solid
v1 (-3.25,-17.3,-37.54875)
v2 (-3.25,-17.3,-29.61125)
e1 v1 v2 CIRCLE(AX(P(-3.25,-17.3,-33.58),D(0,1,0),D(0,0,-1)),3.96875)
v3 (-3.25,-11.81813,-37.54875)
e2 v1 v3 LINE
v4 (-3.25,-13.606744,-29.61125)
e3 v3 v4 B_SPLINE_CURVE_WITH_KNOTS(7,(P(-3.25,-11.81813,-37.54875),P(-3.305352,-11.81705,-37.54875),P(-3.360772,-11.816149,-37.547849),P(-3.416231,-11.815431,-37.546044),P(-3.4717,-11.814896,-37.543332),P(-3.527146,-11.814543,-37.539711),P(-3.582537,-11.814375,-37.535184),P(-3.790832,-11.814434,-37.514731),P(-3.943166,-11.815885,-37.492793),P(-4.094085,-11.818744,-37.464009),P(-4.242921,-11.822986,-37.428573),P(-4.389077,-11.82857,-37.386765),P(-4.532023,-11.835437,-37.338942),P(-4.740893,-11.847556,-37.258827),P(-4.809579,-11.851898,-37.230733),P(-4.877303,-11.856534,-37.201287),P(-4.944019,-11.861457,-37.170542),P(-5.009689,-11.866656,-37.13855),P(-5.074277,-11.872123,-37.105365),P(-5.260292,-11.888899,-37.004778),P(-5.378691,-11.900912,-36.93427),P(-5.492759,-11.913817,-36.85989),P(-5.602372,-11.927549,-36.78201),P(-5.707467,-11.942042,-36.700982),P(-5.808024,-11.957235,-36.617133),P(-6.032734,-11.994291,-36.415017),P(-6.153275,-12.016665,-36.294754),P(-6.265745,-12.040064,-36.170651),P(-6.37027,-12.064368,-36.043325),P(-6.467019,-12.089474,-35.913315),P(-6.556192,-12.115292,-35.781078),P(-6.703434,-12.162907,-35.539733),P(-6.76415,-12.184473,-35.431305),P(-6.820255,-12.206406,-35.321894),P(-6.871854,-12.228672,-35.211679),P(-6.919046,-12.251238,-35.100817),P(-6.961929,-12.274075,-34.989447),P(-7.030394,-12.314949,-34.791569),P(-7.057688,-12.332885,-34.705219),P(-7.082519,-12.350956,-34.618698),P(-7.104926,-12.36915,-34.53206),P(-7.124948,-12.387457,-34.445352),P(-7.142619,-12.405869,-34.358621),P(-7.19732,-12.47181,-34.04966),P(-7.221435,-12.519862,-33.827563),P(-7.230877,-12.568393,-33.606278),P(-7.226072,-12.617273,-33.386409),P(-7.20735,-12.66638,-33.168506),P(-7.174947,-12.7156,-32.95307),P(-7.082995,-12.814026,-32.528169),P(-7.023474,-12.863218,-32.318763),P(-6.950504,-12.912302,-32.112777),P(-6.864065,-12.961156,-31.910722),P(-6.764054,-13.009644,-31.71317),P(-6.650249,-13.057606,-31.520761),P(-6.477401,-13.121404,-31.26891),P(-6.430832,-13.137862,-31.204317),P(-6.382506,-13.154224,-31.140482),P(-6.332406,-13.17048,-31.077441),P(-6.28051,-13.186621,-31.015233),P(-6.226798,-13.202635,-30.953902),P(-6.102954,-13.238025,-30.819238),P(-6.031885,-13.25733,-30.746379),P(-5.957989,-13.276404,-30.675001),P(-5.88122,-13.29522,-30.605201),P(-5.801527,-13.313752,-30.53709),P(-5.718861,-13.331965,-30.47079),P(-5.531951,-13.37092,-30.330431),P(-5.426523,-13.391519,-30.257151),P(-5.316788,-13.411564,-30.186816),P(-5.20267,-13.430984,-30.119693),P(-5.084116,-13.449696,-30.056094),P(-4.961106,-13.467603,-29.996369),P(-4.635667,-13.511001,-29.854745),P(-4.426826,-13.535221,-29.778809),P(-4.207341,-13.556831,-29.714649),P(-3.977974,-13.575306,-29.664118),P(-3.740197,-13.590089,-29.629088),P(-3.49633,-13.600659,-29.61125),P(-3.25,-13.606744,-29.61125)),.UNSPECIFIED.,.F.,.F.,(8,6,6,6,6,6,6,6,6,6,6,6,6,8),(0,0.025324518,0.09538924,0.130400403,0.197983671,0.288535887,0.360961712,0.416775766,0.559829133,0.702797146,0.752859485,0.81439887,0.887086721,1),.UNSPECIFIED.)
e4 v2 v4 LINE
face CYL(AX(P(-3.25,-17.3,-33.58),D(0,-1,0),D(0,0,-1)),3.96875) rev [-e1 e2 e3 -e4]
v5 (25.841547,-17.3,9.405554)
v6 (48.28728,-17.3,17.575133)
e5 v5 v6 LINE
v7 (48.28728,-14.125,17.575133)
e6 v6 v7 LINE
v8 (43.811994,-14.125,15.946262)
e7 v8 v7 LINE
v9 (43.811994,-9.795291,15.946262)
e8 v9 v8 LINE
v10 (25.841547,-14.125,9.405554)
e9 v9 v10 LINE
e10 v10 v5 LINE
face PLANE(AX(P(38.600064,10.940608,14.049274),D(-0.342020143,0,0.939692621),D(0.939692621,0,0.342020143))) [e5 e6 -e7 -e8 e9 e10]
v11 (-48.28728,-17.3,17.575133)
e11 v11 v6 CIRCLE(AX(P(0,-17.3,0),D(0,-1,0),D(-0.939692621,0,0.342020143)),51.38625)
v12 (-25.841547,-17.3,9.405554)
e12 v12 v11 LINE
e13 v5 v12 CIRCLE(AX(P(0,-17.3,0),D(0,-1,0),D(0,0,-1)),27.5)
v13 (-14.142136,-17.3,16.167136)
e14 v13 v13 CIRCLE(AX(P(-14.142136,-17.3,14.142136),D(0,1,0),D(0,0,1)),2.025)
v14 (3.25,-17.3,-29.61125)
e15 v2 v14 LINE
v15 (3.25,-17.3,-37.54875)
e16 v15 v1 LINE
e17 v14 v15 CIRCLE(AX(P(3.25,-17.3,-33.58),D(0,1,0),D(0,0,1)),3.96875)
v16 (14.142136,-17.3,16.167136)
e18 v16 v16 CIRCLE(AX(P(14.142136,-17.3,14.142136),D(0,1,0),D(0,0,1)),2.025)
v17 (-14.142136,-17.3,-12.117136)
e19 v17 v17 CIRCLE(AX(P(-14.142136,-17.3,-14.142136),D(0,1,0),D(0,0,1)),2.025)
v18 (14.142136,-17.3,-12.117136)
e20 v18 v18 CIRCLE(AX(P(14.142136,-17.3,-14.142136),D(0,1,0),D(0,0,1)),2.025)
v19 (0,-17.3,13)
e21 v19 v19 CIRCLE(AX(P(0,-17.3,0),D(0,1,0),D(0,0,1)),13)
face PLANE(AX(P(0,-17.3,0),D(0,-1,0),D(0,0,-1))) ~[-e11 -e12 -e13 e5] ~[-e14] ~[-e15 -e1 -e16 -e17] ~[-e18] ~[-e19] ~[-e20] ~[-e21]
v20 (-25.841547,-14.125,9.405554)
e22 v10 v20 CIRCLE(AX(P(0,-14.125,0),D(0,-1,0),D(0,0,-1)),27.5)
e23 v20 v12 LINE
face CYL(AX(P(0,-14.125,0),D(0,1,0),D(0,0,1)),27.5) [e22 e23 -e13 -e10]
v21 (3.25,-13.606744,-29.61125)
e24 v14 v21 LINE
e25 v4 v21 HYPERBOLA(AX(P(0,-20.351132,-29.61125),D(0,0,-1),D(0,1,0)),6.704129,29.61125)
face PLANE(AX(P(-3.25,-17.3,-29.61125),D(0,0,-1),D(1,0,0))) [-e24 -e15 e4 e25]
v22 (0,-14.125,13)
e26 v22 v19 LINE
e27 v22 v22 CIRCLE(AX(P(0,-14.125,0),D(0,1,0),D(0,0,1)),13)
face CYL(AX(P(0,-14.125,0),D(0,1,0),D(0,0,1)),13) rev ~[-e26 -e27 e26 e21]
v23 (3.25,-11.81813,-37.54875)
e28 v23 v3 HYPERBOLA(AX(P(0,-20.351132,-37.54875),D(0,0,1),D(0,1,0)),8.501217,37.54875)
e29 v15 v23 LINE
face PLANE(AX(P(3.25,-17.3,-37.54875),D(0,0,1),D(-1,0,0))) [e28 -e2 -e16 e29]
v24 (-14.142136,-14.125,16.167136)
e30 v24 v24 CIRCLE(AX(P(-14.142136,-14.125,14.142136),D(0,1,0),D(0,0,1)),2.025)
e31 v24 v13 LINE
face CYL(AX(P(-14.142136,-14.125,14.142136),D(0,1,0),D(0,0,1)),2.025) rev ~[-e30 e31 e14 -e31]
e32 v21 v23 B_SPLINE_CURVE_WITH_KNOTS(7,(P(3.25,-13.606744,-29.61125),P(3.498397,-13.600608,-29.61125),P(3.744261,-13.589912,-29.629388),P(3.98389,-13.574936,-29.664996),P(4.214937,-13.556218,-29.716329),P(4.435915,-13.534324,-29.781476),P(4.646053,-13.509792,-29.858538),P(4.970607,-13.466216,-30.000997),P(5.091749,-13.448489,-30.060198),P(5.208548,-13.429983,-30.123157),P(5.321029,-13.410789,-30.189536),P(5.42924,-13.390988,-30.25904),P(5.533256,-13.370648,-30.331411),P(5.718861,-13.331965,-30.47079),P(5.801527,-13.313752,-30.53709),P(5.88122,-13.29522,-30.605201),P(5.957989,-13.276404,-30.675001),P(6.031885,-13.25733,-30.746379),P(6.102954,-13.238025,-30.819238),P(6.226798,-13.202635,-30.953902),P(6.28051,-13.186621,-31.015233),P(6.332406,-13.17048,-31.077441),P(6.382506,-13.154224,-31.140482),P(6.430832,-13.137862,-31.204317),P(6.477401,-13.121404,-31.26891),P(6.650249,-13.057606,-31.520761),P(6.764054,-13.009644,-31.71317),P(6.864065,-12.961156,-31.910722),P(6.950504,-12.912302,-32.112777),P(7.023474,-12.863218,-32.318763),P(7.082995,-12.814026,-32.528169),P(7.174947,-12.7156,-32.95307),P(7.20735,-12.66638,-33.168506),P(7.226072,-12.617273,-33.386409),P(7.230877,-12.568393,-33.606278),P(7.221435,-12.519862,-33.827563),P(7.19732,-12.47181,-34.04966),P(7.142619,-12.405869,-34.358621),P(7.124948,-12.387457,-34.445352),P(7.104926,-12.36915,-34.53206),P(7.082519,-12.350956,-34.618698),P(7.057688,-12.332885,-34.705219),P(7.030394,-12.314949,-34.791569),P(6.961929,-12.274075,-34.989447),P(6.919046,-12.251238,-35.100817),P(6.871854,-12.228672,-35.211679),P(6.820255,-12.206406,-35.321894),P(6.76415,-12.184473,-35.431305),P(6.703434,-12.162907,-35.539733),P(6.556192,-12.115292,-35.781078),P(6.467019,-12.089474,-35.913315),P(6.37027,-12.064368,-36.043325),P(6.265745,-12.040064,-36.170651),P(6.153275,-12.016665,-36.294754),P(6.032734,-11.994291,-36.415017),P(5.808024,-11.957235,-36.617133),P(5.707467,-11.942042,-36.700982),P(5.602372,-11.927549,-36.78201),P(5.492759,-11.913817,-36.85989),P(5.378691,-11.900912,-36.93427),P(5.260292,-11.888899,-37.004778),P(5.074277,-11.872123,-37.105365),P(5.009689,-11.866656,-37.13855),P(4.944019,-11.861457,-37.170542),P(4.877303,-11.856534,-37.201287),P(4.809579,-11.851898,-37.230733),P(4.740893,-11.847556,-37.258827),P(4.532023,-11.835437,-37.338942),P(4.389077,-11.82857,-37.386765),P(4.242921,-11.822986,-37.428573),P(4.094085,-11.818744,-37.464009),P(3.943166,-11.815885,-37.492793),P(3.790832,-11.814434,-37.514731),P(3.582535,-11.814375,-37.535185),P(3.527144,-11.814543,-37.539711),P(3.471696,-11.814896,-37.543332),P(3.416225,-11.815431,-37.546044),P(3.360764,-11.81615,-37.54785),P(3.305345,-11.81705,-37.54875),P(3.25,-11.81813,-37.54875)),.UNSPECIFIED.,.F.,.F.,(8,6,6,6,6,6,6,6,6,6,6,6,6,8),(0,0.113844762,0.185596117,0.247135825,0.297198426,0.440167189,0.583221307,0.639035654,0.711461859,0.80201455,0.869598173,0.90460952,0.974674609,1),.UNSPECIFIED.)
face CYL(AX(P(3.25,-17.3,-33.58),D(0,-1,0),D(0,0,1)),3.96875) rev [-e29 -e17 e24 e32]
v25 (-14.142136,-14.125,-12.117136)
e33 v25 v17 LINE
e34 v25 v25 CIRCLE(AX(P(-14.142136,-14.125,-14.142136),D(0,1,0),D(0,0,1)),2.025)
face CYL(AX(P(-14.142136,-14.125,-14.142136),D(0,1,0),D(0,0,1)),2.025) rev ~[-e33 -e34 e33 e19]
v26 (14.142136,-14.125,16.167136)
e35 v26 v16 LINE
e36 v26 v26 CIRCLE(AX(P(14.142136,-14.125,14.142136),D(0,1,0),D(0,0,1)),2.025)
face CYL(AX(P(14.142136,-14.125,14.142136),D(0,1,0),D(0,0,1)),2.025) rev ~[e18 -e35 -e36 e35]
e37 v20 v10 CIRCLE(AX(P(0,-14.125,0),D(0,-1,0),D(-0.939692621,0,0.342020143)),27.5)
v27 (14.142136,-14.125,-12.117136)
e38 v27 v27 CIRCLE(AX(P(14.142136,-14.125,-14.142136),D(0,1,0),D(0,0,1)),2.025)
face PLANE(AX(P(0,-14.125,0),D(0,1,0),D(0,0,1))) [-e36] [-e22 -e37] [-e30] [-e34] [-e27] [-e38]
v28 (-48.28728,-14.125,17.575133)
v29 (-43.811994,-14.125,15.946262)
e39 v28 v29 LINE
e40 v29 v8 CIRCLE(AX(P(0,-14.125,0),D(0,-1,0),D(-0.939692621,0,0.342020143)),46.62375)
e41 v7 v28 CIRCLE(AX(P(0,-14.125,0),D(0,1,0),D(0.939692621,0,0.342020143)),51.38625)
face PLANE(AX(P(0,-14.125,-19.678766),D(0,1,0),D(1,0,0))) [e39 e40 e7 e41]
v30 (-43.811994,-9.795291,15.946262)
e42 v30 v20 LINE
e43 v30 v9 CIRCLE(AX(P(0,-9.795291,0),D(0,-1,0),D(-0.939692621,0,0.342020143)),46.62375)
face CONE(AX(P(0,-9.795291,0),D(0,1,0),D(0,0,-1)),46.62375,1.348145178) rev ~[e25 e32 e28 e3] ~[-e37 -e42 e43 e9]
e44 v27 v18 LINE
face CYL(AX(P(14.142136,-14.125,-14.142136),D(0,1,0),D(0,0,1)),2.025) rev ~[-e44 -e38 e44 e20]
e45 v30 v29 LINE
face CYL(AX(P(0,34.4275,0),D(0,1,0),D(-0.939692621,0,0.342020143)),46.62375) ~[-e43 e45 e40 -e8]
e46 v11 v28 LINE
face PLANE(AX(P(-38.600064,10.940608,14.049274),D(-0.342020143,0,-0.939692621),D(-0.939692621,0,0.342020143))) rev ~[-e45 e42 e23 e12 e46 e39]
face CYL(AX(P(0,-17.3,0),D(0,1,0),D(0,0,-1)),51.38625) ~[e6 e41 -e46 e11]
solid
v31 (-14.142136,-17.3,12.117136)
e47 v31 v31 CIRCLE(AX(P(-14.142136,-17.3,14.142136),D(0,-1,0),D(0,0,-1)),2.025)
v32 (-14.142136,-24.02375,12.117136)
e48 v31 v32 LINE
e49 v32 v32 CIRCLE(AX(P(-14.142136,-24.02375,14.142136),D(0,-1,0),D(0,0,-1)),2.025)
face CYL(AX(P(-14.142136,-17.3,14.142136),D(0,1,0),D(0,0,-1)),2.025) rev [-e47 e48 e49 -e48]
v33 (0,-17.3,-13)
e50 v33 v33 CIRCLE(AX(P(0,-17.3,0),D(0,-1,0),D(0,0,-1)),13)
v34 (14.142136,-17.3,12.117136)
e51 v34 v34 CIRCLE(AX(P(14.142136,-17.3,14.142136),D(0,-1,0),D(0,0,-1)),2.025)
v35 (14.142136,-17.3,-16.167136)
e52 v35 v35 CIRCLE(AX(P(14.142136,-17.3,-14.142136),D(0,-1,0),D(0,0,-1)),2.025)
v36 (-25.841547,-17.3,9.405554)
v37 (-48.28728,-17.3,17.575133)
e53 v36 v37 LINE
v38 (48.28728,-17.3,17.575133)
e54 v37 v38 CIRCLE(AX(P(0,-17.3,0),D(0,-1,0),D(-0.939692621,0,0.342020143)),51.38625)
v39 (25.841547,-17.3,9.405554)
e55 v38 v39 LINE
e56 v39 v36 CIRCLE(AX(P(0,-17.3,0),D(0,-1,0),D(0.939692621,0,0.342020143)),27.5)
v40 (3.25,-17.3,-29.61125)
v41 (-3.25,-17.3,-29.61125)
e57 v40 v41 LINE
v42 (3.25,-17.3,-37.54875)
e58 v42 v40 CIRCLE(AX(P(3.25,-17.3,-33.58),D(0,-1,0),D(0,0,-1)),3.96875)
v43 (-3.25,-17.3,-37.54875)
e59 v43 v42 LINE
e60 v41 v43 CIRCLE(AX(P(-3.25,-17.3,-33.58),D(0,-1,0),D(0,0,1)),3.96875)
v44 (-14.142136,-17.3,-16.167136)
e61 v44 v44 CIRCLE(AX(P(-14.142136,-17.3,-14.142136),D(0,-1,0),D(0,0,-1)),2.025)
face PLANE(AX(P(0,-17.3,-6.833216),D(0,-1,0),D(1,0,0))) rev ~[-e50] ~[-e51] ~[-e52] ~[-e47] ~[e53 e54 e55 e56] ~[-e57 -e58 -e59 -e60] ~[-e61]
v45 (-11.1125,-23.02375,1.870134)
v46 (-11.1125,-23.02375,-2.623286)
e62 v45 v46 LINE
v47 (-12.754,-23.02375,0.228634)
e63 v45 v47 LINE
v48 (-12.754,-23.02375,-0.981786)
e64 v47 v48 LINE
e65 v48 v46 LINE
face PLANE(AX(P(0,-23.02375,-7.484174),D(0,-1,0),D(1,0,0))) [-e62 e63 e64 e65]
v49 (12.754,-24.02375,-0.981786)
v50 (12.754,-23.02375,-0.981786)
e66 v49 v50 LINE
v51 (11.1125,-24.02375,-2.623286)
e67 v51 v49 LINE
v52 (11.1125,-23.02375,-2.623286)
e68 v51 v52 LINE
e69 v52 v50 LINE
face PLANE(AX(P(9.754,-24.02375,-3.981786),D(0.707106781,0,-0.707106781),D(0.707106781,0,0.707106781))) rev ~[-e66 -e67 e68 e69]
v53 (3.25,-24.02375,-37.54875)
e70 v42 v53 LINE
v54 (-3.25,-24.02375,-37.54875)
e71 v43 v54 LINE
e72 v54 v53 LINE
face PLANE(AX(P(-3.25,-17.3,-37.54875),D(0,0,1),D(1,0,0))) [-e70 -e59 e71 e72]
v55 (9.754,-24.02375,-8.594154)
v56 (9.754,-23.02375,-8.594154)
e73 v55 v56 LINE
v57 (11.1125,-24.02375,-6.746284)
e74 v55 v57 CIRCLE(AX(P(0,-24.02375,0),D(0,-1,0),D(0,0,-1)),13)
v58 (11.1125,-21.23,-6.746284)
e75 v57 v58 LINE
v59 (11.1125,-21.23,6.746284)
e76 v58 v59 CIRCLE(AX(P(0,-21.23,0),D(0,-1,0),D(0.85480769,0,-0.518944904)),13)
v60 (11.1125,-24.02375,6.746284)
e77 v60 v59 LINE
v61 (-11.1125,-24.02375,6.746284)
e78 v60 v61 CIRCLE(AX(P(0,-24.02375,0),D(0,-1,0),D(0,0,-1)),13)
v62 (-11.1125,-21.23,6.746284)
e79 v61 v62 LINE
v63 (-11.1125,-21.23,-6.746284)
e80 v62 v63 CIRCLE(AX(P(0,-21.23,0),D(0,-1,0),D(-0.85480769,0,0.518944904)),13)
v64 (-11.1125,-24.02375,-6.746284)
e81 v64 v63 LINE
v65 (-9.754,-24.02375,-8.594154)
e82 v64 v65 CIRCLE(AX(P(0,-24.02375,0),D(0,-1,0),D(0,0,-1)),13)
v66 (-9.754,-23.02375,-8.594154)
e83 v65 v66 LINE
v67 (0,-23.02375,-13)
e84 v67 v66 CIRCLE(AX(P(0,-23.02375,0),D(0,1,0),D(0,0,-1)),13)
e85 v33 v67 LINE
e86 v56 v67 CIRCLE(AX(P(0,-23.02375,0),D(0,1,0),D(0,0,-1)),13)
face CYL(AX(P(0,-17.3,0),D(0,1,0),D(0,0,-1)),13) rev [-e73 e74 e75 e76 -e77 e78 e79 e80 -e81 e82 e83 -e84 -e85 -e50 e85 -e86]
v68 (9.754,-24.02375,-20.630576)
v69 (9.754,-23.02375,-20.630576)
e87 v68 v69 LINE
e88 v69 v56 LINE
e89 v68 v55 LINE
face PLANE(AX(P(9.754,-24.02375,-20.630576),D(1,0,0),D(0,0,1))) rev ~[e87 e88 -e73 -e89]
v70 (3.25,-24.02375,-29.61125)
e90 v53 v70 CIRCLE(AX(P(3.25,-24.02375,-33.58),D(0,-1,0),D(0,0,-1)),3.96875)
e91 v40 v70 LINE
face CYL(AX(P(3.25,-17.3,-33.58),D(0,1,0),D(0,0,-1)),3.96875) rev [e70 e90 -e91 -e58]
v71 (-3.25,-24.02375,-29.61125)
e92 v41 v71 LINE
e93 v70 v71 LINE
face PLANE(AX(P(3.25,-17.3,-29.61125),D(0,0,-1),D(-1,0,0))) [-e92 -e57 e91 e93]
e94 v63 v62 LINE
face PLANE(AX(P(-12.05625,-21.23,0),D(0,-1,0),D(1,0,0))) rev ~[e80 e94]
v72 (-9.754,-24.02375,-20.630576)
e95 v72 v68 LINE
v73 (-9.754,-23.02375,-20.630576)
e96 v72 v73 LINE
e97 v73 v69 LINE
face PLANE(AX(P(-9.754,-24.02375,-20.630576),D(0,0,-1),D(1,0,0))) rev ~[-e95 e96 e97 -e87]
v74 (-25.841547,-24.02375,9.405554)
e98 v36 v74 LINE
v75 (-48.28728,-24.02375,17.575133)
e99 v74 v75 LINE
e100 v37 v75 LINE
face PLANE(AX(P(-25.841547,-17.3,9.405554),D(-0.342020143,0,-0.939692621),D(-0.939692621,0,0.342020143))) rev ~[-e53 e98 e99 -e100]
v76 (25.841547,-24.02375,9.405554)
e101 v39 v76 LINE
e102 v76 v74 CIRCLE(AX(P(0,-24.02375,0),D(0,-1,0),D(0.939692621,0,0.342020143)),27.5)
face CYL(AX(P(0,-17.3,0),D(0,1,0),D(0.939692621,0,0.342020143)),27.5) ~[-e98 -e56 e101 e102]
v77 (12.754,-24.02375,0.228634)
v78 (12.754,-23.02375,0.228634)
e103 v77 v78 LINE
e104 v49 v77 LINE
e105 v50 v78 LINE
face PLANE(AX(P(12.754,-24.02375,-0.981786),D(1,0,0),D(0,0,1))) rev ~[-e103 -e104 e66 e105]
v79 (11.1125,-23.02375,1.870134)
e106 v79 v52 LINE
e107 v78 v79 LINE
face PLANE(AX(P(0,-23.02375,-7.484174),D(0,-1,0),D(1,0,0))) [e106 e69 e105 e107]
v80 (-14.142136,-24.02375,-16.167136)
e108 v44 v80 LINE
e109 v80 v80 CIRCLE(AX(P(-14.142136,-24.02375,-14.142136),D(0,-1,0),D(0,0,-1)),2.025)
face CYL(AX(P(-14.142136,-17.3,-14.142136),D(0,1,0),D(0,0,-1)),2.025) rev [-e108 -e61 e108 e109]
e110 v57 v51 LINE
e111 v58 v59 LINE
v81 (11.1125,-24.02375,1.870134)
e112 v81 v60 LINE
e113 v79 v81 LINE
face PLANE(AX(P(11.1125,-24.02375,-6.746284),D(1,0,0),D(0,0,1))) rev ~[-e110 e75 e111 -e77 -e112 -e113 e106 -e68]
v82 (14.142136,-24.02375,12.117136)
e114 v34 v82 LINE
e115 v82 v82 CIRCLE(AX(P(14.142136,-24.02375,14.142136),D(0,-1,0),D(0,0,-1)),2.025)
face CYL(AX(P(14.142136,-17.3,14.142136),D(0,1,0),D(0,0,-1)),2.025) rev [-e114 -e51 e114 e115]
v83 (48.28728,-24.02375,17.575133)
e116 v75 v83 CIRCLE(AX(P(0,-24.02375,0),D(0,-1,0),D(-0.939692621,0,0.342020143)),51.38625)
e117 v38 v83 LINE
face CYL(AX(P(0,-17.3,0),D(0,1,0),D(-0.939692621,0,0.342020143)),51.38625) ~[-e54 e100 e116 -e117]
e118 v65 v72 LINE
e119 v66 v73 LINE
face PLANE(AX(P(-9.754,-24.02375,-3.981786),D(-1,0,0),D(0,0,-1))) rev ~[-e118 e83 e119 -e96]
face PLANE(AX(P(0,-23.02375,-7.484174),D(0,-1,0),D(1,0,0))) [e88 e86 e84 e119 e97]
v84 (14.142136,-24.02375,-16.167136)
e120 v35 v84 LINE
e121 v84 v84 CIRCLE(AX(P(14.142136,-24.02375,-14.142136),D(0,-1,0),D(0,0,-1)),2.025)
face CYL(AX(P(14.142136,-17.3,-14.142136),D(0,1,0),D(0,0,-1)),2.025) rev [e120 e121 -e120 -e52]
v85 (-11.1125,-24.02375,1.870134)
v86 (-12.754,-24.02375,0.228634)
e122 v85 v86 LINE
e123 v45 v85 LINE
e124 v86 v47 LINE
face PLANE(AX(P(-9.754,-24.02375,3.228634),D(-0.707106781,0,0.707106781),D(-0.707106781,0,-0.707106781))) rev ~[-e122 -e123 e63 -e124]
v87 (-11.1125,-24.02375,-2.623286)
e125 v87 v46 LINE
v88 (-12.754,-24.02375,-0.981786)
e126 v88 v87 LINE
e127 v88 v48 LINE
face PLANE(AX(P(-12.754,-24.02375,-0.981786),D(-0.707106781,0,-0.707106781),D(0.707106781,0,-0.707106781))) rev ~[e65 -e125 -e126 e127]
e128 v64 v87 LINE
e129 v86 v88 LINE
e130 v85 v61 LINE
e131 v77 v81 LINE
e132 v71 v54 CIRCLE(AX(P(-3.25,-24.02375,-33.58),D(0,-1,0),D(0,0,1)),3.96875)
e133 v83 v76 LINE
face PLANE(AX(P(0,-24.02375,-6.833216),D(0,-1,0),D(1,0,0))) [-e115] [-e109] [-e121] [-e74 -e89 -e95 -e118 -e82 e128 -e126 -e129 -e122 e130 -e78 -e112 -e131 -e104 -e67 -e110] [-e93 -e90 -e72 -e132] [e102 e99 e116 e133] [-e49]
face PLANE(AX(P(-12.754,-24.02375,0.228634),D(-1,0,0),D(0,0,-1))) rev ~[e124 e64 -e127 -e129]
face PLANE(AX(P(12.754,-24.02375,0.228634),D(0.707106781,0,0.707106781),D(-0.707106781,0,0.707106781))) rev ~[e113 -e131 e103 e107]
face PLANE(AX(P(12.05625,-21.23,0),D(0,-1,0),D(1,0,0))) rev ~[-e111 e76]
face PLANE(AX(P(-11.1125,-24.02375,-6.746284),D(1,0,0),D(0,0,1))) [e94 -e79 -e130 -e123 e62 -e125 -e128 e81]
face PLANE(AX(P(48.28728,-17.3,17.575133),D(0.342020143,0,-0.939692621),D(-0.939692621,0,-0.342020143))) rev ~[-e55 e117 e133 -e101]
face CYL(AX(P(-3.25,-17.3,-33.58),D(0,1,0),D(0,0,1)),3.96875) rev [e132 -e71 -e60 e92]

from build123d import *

# Parameters (mm, degrees)
BOSS_EXTRUDE1_START = -14.125
SKETCH2_R           = 27.5
SKETCH2_R_2         = 13.000000035
SKETCH2_R_3         = 2.025
BOSS_EXTRUDE1_DEPTH = 3.175
BOSS_EXTRUDE2_START = 28.4275
SKETCH3_R           = 18.35
SKETCH3_R_2         = 12
BOSS_EXTRUDE2_DEPTH = 6
REVOLVE1_ANGLE      = 220
SKETCH5_R           = 18.35
SKETCH5_R_2         = 11.20625
BOSS_EXTRUDE3_DEPTH = 0.79375
CUT_EXTRUDE1_REACH  = 91.201
CUT_EXTRUDE2_DEPTH  = 48.55249997
SKETCH8_R           = 2.025
SKETCH8_R_2         = 13.000000035
BOSS_EXTRUDE4_DEPTH = 6.723750032
SKETCH10_W          = 1.887500035
SKETCH10_H          = 13.492567534
BOSS_EXTRUDE5_DEPTH = 2.793750032
CUT_EXTRUDE3_DEPTH  = 1.000000032


with BuildPart() as part:
    # Sketch2 → Boss-Extrude1 (new body)
    with BuildSketch(Plane(origin=(0, 0, 0), x_dir=(1, 0, 0), z_dir=(0, 1, 0)).offset(BOSS_EXTRUDE1_START)):
        with Locations(Location((0, 0, 0), (0, 0, 270))):
            Circle(SKETCH2_R)
        with Locations(Location((0, 0, 0), (0, 0, 270))):
            Circle(SKETCH2_R_2, mode=Mode.SUBTRACT)
        with Locations(Location((-14.142135624, -14.142135624, 0), (0, 0, 270))):
            Circle(SKETCH2_R_3, mode=Mode.SUBTRACT)
        with Locations(Location((14.142135624, -14.142135624, 0), (0, 0, 270))):
            Circle(SKETCH2_R_3, mode=Mode.SUBTRACT)
        with Locations(Location((14.142135624, 14.142135624, 0), (0, 0, 270))):
            Circle(SKETCH2_R_3, mode=Mode.SUBTRACT)
        with Locations(Location((-14.142135624, 14.142135624, 0), (0, 0, 270))):
            Circle(SKETCH2_R_3, mode=Mode.SUBTRACT)
    extrude(amount=-BOSS_EXTRUDE1_DEPTH)



with BuildPart() as body_2:
    # Sketch3 → Boss-Extrude2 (new body)
    with BuildSketch(Plane(origin=(0, 0, 0), x_dir=(1, 0, 0), z_dir=(0, 1, 0)).offset(BOSS_EXTRUDE2_START)):
        with Locations(Location((0, 0, 0), (0, 0, 270))):
            Circle(SKETCH3_R)
        with Locations(Location((0, 0, 0), (0, 0, 270))):
            Circle(SKETCH3_R_2, mode=Mode.SUBTRACT)
    extrude(amount=BOSS_EXTRUDE2_DEPTH)


with BuildPart() as part_1:
    add(part.part)

    add(body_2.part)  # Revolve1 merges body 2
    # Sketch4 → Revolve1 (revolve, symmetric)
    with BuildSketch(Plane(origin=(0, 0, 0), x_dir=(0, 0, -1), z_dir=(1, 0, 0))) as revolve1_sk:
        Polygon((27.5, -17.3), (51.38625, -17.3), (51.38625, 34.42749997), (18.35, 34.42749997), (18.35, 28.427500017), (46.62375, 28.427500017), (46.62375, -9.795291189), (27.5, -14.125), align=None)
    revolve(axis=Axis((0, -14.125, 0), (0, 1, 0)), revolution_arc=REVOLVE1_ANGLE / 2)
    revolve(revolve1_sk.sketch, axis=Axis((0, -14.125, 0), (0, -1, 0)), revolution_arc=REVOLVE1_ANGLE / 2)

    # Sketch5 → Boss-Extrude3 (add)
    with BuildSketch(Plane.XZ.offset(-28.427500017)):
        with Locations(Location((0, 0, 0), (0, 0, 270))):
            Circle(SKETCH5_R)
        with Locations(Location((0, 0, 0), (0, 0, 270))):
            Circle(SKETCH5_R_2, mode=Mode.SUBTRACT)
    extrude(amount=BOSS_EXTRUDE3_DEPTH)

    # Cut-Extrude1: up to this cone (the profile starts outside it)
    cut_extrude1_end = Plane(origin=(0, -17.3, 0), z_dir=(0, 1, 0)).offset(-3.051131024) * Cone(4.417e-06, 478.031284628, 108.228576807, align=(Align.CENTER, Align.CENTER, Align.MIN), mode=Mode.PRIVATE)
    # Sketch6 → Cut-Extrude1 (cut, up to the surface)
    with BuildSketch(Plane(origin=(0, -17.3, 0), x_dir=(-1, 0, 0), z_dir=(0, -1, 0)), mode=Mode.PRIVATE) as cut_extrude1_sk1:
        with BuildLine():
            Line((3.25, 29.61125), (-3.25, 29.61125))
            ThreePointArc((-3.25, 29.61125), (-7.21875, 33.58), (-3.25, 37.54875))
            Line((-3.25, 37.54875), (3.25, 37.54875))
            ThreePointArc((3.25, 37.54875), (7.21875, 33.58), (3.25, 29.61125))
        make_face()
    cut_extrude1_tool1 = extrude(cut_extrude1_sk1.sketch, amount=-CUT_EXTRUDE1_REACH, mode=Mode.PRIVATE) - cut_extrude1_end
    add(cut_extrude1_tool1.solids().sort_by_distance((0, -17.3, -33.58))[0], mode=Mode.SUBTRACT)

    # Sketch7 → Cut-Extrude2 (cut)
    with BuildSketch(Plane(origin=(0, 34.42749997, 0), x_dir=(1, 0, 0), z_dir=(0, 1, 0))):
        with BuildLine():
            Line((-48.287279935, -17.57513259), (-43.811993828, -15.946261657))
            ThreePointArc((-43.811993828, -15.946261657), (0, 46.62375), (43.811993828, -15.946261657))
            Line((43.811993828, -15.946261657), (48.287279935, -17.57513259))
            ThreePointArc((48.287279935, -17.57513259), (0, 51.38625), (-48.287279935, -17.57513259))
        make_face()
    extrude(amount=-CUT_EXTRUDE2_DEPTH, mode=Mode.SUBTRACT)


with BuildPart() as cut_extrude2_kept_piece:
    # of the separate pieces the step leaves, the one the design keeps (cut_extrude2_pieces_kept)
    add(part_1.part.solids().sort_by_distance((-25.841547072, -14.125, 9.405553941))[0])


with BuildPart() as body_2_2:
    # Sketch8 → Boss-Extrude4 (new body)
    with BuildSketch(Plane.XZ.offset(17.3)):
        with BuildLine():
            Line((-25.841547072, 9.405553941), (-48.287279935, 17.57513259))
            ThreePointArc((-48.287279935, 17.57513259), (0, -51.38625), (48.287279935, 17.57513259))
            Line((48.287279935, 17.57513259), (25.841547072, 9.405553941))
            ThreePointArc((25.841547072, 9.405553941), (0, 27.5), (-25.841547072, 9.405553941))
        make_face()
        with Locations(Location((-14.142135624, -14.142135624, 0), (0, 0, 270))):
            Circle(SKETCH8_R, mode=Mode.SUBTRACT)
        with Locations(Location((14.142135624, -14.142135624, 0), (0, 0, 270))):
            Circle(SKETCH8_R, mode=Mode.SUBTRACT)
        with Locations(Location((14.142135624, 14.142135624, 0), (0, 0, 270))):
            Circle(SKETCH8_R, mode=Mode.SUBTRACT)
        with Locations(Location((-14.142135624, 14.142135624, 0), (0, 0, 270))):
            Circle(SKETCH8_R, mode=Mode.SUBTRACT)
        with Locations(Location((0, 0, 0), (0, 0, 270))):
            Circle(SKETCH8_R_2, mode=Mode.SUBTRACT)
        with BuildLine():
            Line((-3.25, -37.54875), (3.25, -37.54875))
            ThreePointArc((3.25, -37.54875), (7.21875, -33.58), (3.25, -29.61125))
            Line((3.25, -29.61125), (-3.25, -29.61125))
            ThreePointArc((-3.25, -29.61125), (-7.21875, -33.58), (-3.25, -37.54875))
        make_face(mode=Mode.SUBTRACT)
    extrude(amount=BOSS_EXTRUDE4_DEPTH)

    # Sketch10 → Boss-Extrude5 (add)
    with BuildSketch(Plane.XZ.offset(24.023750032)):
        with Locations((-12.056250018, 0)):
            Rectangle(SKETCH10_W, SKETCH10_H)
        with Locations((12.056250018, 0)):
            Rectangle(SKETCH10_W, SKETCH10_H)
    extrude(amount=-BOSS_EXTRUDE5_DEPTH)

    # Sketch12 → Cut-Extrude3 (cut)
    with BuildSketch(Plane.XZ.offset(24.023750032)):
        Polygon((-9.75400005, -3.981786238), (-9.75400005, -20.630576141), (9.75400005, -20.630576141), (9.75400005, -3.981786238), (12.754000146, -0.981786142), (12.754000146, 0.228634125), (9.75400005, 3.228634221), (9.75400005, 4.877423897), (-9.75400005, 4.877423897), (-9.75400005, 3.228634221), (-12.754000146, 0.228634125), (-12.754000146, -0.981786142), align=None)
    extrude(amount=-CUT_EXTRUDE3_DEPTH, mode=Mode.SUBTRACT)


solid = Compound([cut_extrude2_kept_piece.part, body_2_2.part])
